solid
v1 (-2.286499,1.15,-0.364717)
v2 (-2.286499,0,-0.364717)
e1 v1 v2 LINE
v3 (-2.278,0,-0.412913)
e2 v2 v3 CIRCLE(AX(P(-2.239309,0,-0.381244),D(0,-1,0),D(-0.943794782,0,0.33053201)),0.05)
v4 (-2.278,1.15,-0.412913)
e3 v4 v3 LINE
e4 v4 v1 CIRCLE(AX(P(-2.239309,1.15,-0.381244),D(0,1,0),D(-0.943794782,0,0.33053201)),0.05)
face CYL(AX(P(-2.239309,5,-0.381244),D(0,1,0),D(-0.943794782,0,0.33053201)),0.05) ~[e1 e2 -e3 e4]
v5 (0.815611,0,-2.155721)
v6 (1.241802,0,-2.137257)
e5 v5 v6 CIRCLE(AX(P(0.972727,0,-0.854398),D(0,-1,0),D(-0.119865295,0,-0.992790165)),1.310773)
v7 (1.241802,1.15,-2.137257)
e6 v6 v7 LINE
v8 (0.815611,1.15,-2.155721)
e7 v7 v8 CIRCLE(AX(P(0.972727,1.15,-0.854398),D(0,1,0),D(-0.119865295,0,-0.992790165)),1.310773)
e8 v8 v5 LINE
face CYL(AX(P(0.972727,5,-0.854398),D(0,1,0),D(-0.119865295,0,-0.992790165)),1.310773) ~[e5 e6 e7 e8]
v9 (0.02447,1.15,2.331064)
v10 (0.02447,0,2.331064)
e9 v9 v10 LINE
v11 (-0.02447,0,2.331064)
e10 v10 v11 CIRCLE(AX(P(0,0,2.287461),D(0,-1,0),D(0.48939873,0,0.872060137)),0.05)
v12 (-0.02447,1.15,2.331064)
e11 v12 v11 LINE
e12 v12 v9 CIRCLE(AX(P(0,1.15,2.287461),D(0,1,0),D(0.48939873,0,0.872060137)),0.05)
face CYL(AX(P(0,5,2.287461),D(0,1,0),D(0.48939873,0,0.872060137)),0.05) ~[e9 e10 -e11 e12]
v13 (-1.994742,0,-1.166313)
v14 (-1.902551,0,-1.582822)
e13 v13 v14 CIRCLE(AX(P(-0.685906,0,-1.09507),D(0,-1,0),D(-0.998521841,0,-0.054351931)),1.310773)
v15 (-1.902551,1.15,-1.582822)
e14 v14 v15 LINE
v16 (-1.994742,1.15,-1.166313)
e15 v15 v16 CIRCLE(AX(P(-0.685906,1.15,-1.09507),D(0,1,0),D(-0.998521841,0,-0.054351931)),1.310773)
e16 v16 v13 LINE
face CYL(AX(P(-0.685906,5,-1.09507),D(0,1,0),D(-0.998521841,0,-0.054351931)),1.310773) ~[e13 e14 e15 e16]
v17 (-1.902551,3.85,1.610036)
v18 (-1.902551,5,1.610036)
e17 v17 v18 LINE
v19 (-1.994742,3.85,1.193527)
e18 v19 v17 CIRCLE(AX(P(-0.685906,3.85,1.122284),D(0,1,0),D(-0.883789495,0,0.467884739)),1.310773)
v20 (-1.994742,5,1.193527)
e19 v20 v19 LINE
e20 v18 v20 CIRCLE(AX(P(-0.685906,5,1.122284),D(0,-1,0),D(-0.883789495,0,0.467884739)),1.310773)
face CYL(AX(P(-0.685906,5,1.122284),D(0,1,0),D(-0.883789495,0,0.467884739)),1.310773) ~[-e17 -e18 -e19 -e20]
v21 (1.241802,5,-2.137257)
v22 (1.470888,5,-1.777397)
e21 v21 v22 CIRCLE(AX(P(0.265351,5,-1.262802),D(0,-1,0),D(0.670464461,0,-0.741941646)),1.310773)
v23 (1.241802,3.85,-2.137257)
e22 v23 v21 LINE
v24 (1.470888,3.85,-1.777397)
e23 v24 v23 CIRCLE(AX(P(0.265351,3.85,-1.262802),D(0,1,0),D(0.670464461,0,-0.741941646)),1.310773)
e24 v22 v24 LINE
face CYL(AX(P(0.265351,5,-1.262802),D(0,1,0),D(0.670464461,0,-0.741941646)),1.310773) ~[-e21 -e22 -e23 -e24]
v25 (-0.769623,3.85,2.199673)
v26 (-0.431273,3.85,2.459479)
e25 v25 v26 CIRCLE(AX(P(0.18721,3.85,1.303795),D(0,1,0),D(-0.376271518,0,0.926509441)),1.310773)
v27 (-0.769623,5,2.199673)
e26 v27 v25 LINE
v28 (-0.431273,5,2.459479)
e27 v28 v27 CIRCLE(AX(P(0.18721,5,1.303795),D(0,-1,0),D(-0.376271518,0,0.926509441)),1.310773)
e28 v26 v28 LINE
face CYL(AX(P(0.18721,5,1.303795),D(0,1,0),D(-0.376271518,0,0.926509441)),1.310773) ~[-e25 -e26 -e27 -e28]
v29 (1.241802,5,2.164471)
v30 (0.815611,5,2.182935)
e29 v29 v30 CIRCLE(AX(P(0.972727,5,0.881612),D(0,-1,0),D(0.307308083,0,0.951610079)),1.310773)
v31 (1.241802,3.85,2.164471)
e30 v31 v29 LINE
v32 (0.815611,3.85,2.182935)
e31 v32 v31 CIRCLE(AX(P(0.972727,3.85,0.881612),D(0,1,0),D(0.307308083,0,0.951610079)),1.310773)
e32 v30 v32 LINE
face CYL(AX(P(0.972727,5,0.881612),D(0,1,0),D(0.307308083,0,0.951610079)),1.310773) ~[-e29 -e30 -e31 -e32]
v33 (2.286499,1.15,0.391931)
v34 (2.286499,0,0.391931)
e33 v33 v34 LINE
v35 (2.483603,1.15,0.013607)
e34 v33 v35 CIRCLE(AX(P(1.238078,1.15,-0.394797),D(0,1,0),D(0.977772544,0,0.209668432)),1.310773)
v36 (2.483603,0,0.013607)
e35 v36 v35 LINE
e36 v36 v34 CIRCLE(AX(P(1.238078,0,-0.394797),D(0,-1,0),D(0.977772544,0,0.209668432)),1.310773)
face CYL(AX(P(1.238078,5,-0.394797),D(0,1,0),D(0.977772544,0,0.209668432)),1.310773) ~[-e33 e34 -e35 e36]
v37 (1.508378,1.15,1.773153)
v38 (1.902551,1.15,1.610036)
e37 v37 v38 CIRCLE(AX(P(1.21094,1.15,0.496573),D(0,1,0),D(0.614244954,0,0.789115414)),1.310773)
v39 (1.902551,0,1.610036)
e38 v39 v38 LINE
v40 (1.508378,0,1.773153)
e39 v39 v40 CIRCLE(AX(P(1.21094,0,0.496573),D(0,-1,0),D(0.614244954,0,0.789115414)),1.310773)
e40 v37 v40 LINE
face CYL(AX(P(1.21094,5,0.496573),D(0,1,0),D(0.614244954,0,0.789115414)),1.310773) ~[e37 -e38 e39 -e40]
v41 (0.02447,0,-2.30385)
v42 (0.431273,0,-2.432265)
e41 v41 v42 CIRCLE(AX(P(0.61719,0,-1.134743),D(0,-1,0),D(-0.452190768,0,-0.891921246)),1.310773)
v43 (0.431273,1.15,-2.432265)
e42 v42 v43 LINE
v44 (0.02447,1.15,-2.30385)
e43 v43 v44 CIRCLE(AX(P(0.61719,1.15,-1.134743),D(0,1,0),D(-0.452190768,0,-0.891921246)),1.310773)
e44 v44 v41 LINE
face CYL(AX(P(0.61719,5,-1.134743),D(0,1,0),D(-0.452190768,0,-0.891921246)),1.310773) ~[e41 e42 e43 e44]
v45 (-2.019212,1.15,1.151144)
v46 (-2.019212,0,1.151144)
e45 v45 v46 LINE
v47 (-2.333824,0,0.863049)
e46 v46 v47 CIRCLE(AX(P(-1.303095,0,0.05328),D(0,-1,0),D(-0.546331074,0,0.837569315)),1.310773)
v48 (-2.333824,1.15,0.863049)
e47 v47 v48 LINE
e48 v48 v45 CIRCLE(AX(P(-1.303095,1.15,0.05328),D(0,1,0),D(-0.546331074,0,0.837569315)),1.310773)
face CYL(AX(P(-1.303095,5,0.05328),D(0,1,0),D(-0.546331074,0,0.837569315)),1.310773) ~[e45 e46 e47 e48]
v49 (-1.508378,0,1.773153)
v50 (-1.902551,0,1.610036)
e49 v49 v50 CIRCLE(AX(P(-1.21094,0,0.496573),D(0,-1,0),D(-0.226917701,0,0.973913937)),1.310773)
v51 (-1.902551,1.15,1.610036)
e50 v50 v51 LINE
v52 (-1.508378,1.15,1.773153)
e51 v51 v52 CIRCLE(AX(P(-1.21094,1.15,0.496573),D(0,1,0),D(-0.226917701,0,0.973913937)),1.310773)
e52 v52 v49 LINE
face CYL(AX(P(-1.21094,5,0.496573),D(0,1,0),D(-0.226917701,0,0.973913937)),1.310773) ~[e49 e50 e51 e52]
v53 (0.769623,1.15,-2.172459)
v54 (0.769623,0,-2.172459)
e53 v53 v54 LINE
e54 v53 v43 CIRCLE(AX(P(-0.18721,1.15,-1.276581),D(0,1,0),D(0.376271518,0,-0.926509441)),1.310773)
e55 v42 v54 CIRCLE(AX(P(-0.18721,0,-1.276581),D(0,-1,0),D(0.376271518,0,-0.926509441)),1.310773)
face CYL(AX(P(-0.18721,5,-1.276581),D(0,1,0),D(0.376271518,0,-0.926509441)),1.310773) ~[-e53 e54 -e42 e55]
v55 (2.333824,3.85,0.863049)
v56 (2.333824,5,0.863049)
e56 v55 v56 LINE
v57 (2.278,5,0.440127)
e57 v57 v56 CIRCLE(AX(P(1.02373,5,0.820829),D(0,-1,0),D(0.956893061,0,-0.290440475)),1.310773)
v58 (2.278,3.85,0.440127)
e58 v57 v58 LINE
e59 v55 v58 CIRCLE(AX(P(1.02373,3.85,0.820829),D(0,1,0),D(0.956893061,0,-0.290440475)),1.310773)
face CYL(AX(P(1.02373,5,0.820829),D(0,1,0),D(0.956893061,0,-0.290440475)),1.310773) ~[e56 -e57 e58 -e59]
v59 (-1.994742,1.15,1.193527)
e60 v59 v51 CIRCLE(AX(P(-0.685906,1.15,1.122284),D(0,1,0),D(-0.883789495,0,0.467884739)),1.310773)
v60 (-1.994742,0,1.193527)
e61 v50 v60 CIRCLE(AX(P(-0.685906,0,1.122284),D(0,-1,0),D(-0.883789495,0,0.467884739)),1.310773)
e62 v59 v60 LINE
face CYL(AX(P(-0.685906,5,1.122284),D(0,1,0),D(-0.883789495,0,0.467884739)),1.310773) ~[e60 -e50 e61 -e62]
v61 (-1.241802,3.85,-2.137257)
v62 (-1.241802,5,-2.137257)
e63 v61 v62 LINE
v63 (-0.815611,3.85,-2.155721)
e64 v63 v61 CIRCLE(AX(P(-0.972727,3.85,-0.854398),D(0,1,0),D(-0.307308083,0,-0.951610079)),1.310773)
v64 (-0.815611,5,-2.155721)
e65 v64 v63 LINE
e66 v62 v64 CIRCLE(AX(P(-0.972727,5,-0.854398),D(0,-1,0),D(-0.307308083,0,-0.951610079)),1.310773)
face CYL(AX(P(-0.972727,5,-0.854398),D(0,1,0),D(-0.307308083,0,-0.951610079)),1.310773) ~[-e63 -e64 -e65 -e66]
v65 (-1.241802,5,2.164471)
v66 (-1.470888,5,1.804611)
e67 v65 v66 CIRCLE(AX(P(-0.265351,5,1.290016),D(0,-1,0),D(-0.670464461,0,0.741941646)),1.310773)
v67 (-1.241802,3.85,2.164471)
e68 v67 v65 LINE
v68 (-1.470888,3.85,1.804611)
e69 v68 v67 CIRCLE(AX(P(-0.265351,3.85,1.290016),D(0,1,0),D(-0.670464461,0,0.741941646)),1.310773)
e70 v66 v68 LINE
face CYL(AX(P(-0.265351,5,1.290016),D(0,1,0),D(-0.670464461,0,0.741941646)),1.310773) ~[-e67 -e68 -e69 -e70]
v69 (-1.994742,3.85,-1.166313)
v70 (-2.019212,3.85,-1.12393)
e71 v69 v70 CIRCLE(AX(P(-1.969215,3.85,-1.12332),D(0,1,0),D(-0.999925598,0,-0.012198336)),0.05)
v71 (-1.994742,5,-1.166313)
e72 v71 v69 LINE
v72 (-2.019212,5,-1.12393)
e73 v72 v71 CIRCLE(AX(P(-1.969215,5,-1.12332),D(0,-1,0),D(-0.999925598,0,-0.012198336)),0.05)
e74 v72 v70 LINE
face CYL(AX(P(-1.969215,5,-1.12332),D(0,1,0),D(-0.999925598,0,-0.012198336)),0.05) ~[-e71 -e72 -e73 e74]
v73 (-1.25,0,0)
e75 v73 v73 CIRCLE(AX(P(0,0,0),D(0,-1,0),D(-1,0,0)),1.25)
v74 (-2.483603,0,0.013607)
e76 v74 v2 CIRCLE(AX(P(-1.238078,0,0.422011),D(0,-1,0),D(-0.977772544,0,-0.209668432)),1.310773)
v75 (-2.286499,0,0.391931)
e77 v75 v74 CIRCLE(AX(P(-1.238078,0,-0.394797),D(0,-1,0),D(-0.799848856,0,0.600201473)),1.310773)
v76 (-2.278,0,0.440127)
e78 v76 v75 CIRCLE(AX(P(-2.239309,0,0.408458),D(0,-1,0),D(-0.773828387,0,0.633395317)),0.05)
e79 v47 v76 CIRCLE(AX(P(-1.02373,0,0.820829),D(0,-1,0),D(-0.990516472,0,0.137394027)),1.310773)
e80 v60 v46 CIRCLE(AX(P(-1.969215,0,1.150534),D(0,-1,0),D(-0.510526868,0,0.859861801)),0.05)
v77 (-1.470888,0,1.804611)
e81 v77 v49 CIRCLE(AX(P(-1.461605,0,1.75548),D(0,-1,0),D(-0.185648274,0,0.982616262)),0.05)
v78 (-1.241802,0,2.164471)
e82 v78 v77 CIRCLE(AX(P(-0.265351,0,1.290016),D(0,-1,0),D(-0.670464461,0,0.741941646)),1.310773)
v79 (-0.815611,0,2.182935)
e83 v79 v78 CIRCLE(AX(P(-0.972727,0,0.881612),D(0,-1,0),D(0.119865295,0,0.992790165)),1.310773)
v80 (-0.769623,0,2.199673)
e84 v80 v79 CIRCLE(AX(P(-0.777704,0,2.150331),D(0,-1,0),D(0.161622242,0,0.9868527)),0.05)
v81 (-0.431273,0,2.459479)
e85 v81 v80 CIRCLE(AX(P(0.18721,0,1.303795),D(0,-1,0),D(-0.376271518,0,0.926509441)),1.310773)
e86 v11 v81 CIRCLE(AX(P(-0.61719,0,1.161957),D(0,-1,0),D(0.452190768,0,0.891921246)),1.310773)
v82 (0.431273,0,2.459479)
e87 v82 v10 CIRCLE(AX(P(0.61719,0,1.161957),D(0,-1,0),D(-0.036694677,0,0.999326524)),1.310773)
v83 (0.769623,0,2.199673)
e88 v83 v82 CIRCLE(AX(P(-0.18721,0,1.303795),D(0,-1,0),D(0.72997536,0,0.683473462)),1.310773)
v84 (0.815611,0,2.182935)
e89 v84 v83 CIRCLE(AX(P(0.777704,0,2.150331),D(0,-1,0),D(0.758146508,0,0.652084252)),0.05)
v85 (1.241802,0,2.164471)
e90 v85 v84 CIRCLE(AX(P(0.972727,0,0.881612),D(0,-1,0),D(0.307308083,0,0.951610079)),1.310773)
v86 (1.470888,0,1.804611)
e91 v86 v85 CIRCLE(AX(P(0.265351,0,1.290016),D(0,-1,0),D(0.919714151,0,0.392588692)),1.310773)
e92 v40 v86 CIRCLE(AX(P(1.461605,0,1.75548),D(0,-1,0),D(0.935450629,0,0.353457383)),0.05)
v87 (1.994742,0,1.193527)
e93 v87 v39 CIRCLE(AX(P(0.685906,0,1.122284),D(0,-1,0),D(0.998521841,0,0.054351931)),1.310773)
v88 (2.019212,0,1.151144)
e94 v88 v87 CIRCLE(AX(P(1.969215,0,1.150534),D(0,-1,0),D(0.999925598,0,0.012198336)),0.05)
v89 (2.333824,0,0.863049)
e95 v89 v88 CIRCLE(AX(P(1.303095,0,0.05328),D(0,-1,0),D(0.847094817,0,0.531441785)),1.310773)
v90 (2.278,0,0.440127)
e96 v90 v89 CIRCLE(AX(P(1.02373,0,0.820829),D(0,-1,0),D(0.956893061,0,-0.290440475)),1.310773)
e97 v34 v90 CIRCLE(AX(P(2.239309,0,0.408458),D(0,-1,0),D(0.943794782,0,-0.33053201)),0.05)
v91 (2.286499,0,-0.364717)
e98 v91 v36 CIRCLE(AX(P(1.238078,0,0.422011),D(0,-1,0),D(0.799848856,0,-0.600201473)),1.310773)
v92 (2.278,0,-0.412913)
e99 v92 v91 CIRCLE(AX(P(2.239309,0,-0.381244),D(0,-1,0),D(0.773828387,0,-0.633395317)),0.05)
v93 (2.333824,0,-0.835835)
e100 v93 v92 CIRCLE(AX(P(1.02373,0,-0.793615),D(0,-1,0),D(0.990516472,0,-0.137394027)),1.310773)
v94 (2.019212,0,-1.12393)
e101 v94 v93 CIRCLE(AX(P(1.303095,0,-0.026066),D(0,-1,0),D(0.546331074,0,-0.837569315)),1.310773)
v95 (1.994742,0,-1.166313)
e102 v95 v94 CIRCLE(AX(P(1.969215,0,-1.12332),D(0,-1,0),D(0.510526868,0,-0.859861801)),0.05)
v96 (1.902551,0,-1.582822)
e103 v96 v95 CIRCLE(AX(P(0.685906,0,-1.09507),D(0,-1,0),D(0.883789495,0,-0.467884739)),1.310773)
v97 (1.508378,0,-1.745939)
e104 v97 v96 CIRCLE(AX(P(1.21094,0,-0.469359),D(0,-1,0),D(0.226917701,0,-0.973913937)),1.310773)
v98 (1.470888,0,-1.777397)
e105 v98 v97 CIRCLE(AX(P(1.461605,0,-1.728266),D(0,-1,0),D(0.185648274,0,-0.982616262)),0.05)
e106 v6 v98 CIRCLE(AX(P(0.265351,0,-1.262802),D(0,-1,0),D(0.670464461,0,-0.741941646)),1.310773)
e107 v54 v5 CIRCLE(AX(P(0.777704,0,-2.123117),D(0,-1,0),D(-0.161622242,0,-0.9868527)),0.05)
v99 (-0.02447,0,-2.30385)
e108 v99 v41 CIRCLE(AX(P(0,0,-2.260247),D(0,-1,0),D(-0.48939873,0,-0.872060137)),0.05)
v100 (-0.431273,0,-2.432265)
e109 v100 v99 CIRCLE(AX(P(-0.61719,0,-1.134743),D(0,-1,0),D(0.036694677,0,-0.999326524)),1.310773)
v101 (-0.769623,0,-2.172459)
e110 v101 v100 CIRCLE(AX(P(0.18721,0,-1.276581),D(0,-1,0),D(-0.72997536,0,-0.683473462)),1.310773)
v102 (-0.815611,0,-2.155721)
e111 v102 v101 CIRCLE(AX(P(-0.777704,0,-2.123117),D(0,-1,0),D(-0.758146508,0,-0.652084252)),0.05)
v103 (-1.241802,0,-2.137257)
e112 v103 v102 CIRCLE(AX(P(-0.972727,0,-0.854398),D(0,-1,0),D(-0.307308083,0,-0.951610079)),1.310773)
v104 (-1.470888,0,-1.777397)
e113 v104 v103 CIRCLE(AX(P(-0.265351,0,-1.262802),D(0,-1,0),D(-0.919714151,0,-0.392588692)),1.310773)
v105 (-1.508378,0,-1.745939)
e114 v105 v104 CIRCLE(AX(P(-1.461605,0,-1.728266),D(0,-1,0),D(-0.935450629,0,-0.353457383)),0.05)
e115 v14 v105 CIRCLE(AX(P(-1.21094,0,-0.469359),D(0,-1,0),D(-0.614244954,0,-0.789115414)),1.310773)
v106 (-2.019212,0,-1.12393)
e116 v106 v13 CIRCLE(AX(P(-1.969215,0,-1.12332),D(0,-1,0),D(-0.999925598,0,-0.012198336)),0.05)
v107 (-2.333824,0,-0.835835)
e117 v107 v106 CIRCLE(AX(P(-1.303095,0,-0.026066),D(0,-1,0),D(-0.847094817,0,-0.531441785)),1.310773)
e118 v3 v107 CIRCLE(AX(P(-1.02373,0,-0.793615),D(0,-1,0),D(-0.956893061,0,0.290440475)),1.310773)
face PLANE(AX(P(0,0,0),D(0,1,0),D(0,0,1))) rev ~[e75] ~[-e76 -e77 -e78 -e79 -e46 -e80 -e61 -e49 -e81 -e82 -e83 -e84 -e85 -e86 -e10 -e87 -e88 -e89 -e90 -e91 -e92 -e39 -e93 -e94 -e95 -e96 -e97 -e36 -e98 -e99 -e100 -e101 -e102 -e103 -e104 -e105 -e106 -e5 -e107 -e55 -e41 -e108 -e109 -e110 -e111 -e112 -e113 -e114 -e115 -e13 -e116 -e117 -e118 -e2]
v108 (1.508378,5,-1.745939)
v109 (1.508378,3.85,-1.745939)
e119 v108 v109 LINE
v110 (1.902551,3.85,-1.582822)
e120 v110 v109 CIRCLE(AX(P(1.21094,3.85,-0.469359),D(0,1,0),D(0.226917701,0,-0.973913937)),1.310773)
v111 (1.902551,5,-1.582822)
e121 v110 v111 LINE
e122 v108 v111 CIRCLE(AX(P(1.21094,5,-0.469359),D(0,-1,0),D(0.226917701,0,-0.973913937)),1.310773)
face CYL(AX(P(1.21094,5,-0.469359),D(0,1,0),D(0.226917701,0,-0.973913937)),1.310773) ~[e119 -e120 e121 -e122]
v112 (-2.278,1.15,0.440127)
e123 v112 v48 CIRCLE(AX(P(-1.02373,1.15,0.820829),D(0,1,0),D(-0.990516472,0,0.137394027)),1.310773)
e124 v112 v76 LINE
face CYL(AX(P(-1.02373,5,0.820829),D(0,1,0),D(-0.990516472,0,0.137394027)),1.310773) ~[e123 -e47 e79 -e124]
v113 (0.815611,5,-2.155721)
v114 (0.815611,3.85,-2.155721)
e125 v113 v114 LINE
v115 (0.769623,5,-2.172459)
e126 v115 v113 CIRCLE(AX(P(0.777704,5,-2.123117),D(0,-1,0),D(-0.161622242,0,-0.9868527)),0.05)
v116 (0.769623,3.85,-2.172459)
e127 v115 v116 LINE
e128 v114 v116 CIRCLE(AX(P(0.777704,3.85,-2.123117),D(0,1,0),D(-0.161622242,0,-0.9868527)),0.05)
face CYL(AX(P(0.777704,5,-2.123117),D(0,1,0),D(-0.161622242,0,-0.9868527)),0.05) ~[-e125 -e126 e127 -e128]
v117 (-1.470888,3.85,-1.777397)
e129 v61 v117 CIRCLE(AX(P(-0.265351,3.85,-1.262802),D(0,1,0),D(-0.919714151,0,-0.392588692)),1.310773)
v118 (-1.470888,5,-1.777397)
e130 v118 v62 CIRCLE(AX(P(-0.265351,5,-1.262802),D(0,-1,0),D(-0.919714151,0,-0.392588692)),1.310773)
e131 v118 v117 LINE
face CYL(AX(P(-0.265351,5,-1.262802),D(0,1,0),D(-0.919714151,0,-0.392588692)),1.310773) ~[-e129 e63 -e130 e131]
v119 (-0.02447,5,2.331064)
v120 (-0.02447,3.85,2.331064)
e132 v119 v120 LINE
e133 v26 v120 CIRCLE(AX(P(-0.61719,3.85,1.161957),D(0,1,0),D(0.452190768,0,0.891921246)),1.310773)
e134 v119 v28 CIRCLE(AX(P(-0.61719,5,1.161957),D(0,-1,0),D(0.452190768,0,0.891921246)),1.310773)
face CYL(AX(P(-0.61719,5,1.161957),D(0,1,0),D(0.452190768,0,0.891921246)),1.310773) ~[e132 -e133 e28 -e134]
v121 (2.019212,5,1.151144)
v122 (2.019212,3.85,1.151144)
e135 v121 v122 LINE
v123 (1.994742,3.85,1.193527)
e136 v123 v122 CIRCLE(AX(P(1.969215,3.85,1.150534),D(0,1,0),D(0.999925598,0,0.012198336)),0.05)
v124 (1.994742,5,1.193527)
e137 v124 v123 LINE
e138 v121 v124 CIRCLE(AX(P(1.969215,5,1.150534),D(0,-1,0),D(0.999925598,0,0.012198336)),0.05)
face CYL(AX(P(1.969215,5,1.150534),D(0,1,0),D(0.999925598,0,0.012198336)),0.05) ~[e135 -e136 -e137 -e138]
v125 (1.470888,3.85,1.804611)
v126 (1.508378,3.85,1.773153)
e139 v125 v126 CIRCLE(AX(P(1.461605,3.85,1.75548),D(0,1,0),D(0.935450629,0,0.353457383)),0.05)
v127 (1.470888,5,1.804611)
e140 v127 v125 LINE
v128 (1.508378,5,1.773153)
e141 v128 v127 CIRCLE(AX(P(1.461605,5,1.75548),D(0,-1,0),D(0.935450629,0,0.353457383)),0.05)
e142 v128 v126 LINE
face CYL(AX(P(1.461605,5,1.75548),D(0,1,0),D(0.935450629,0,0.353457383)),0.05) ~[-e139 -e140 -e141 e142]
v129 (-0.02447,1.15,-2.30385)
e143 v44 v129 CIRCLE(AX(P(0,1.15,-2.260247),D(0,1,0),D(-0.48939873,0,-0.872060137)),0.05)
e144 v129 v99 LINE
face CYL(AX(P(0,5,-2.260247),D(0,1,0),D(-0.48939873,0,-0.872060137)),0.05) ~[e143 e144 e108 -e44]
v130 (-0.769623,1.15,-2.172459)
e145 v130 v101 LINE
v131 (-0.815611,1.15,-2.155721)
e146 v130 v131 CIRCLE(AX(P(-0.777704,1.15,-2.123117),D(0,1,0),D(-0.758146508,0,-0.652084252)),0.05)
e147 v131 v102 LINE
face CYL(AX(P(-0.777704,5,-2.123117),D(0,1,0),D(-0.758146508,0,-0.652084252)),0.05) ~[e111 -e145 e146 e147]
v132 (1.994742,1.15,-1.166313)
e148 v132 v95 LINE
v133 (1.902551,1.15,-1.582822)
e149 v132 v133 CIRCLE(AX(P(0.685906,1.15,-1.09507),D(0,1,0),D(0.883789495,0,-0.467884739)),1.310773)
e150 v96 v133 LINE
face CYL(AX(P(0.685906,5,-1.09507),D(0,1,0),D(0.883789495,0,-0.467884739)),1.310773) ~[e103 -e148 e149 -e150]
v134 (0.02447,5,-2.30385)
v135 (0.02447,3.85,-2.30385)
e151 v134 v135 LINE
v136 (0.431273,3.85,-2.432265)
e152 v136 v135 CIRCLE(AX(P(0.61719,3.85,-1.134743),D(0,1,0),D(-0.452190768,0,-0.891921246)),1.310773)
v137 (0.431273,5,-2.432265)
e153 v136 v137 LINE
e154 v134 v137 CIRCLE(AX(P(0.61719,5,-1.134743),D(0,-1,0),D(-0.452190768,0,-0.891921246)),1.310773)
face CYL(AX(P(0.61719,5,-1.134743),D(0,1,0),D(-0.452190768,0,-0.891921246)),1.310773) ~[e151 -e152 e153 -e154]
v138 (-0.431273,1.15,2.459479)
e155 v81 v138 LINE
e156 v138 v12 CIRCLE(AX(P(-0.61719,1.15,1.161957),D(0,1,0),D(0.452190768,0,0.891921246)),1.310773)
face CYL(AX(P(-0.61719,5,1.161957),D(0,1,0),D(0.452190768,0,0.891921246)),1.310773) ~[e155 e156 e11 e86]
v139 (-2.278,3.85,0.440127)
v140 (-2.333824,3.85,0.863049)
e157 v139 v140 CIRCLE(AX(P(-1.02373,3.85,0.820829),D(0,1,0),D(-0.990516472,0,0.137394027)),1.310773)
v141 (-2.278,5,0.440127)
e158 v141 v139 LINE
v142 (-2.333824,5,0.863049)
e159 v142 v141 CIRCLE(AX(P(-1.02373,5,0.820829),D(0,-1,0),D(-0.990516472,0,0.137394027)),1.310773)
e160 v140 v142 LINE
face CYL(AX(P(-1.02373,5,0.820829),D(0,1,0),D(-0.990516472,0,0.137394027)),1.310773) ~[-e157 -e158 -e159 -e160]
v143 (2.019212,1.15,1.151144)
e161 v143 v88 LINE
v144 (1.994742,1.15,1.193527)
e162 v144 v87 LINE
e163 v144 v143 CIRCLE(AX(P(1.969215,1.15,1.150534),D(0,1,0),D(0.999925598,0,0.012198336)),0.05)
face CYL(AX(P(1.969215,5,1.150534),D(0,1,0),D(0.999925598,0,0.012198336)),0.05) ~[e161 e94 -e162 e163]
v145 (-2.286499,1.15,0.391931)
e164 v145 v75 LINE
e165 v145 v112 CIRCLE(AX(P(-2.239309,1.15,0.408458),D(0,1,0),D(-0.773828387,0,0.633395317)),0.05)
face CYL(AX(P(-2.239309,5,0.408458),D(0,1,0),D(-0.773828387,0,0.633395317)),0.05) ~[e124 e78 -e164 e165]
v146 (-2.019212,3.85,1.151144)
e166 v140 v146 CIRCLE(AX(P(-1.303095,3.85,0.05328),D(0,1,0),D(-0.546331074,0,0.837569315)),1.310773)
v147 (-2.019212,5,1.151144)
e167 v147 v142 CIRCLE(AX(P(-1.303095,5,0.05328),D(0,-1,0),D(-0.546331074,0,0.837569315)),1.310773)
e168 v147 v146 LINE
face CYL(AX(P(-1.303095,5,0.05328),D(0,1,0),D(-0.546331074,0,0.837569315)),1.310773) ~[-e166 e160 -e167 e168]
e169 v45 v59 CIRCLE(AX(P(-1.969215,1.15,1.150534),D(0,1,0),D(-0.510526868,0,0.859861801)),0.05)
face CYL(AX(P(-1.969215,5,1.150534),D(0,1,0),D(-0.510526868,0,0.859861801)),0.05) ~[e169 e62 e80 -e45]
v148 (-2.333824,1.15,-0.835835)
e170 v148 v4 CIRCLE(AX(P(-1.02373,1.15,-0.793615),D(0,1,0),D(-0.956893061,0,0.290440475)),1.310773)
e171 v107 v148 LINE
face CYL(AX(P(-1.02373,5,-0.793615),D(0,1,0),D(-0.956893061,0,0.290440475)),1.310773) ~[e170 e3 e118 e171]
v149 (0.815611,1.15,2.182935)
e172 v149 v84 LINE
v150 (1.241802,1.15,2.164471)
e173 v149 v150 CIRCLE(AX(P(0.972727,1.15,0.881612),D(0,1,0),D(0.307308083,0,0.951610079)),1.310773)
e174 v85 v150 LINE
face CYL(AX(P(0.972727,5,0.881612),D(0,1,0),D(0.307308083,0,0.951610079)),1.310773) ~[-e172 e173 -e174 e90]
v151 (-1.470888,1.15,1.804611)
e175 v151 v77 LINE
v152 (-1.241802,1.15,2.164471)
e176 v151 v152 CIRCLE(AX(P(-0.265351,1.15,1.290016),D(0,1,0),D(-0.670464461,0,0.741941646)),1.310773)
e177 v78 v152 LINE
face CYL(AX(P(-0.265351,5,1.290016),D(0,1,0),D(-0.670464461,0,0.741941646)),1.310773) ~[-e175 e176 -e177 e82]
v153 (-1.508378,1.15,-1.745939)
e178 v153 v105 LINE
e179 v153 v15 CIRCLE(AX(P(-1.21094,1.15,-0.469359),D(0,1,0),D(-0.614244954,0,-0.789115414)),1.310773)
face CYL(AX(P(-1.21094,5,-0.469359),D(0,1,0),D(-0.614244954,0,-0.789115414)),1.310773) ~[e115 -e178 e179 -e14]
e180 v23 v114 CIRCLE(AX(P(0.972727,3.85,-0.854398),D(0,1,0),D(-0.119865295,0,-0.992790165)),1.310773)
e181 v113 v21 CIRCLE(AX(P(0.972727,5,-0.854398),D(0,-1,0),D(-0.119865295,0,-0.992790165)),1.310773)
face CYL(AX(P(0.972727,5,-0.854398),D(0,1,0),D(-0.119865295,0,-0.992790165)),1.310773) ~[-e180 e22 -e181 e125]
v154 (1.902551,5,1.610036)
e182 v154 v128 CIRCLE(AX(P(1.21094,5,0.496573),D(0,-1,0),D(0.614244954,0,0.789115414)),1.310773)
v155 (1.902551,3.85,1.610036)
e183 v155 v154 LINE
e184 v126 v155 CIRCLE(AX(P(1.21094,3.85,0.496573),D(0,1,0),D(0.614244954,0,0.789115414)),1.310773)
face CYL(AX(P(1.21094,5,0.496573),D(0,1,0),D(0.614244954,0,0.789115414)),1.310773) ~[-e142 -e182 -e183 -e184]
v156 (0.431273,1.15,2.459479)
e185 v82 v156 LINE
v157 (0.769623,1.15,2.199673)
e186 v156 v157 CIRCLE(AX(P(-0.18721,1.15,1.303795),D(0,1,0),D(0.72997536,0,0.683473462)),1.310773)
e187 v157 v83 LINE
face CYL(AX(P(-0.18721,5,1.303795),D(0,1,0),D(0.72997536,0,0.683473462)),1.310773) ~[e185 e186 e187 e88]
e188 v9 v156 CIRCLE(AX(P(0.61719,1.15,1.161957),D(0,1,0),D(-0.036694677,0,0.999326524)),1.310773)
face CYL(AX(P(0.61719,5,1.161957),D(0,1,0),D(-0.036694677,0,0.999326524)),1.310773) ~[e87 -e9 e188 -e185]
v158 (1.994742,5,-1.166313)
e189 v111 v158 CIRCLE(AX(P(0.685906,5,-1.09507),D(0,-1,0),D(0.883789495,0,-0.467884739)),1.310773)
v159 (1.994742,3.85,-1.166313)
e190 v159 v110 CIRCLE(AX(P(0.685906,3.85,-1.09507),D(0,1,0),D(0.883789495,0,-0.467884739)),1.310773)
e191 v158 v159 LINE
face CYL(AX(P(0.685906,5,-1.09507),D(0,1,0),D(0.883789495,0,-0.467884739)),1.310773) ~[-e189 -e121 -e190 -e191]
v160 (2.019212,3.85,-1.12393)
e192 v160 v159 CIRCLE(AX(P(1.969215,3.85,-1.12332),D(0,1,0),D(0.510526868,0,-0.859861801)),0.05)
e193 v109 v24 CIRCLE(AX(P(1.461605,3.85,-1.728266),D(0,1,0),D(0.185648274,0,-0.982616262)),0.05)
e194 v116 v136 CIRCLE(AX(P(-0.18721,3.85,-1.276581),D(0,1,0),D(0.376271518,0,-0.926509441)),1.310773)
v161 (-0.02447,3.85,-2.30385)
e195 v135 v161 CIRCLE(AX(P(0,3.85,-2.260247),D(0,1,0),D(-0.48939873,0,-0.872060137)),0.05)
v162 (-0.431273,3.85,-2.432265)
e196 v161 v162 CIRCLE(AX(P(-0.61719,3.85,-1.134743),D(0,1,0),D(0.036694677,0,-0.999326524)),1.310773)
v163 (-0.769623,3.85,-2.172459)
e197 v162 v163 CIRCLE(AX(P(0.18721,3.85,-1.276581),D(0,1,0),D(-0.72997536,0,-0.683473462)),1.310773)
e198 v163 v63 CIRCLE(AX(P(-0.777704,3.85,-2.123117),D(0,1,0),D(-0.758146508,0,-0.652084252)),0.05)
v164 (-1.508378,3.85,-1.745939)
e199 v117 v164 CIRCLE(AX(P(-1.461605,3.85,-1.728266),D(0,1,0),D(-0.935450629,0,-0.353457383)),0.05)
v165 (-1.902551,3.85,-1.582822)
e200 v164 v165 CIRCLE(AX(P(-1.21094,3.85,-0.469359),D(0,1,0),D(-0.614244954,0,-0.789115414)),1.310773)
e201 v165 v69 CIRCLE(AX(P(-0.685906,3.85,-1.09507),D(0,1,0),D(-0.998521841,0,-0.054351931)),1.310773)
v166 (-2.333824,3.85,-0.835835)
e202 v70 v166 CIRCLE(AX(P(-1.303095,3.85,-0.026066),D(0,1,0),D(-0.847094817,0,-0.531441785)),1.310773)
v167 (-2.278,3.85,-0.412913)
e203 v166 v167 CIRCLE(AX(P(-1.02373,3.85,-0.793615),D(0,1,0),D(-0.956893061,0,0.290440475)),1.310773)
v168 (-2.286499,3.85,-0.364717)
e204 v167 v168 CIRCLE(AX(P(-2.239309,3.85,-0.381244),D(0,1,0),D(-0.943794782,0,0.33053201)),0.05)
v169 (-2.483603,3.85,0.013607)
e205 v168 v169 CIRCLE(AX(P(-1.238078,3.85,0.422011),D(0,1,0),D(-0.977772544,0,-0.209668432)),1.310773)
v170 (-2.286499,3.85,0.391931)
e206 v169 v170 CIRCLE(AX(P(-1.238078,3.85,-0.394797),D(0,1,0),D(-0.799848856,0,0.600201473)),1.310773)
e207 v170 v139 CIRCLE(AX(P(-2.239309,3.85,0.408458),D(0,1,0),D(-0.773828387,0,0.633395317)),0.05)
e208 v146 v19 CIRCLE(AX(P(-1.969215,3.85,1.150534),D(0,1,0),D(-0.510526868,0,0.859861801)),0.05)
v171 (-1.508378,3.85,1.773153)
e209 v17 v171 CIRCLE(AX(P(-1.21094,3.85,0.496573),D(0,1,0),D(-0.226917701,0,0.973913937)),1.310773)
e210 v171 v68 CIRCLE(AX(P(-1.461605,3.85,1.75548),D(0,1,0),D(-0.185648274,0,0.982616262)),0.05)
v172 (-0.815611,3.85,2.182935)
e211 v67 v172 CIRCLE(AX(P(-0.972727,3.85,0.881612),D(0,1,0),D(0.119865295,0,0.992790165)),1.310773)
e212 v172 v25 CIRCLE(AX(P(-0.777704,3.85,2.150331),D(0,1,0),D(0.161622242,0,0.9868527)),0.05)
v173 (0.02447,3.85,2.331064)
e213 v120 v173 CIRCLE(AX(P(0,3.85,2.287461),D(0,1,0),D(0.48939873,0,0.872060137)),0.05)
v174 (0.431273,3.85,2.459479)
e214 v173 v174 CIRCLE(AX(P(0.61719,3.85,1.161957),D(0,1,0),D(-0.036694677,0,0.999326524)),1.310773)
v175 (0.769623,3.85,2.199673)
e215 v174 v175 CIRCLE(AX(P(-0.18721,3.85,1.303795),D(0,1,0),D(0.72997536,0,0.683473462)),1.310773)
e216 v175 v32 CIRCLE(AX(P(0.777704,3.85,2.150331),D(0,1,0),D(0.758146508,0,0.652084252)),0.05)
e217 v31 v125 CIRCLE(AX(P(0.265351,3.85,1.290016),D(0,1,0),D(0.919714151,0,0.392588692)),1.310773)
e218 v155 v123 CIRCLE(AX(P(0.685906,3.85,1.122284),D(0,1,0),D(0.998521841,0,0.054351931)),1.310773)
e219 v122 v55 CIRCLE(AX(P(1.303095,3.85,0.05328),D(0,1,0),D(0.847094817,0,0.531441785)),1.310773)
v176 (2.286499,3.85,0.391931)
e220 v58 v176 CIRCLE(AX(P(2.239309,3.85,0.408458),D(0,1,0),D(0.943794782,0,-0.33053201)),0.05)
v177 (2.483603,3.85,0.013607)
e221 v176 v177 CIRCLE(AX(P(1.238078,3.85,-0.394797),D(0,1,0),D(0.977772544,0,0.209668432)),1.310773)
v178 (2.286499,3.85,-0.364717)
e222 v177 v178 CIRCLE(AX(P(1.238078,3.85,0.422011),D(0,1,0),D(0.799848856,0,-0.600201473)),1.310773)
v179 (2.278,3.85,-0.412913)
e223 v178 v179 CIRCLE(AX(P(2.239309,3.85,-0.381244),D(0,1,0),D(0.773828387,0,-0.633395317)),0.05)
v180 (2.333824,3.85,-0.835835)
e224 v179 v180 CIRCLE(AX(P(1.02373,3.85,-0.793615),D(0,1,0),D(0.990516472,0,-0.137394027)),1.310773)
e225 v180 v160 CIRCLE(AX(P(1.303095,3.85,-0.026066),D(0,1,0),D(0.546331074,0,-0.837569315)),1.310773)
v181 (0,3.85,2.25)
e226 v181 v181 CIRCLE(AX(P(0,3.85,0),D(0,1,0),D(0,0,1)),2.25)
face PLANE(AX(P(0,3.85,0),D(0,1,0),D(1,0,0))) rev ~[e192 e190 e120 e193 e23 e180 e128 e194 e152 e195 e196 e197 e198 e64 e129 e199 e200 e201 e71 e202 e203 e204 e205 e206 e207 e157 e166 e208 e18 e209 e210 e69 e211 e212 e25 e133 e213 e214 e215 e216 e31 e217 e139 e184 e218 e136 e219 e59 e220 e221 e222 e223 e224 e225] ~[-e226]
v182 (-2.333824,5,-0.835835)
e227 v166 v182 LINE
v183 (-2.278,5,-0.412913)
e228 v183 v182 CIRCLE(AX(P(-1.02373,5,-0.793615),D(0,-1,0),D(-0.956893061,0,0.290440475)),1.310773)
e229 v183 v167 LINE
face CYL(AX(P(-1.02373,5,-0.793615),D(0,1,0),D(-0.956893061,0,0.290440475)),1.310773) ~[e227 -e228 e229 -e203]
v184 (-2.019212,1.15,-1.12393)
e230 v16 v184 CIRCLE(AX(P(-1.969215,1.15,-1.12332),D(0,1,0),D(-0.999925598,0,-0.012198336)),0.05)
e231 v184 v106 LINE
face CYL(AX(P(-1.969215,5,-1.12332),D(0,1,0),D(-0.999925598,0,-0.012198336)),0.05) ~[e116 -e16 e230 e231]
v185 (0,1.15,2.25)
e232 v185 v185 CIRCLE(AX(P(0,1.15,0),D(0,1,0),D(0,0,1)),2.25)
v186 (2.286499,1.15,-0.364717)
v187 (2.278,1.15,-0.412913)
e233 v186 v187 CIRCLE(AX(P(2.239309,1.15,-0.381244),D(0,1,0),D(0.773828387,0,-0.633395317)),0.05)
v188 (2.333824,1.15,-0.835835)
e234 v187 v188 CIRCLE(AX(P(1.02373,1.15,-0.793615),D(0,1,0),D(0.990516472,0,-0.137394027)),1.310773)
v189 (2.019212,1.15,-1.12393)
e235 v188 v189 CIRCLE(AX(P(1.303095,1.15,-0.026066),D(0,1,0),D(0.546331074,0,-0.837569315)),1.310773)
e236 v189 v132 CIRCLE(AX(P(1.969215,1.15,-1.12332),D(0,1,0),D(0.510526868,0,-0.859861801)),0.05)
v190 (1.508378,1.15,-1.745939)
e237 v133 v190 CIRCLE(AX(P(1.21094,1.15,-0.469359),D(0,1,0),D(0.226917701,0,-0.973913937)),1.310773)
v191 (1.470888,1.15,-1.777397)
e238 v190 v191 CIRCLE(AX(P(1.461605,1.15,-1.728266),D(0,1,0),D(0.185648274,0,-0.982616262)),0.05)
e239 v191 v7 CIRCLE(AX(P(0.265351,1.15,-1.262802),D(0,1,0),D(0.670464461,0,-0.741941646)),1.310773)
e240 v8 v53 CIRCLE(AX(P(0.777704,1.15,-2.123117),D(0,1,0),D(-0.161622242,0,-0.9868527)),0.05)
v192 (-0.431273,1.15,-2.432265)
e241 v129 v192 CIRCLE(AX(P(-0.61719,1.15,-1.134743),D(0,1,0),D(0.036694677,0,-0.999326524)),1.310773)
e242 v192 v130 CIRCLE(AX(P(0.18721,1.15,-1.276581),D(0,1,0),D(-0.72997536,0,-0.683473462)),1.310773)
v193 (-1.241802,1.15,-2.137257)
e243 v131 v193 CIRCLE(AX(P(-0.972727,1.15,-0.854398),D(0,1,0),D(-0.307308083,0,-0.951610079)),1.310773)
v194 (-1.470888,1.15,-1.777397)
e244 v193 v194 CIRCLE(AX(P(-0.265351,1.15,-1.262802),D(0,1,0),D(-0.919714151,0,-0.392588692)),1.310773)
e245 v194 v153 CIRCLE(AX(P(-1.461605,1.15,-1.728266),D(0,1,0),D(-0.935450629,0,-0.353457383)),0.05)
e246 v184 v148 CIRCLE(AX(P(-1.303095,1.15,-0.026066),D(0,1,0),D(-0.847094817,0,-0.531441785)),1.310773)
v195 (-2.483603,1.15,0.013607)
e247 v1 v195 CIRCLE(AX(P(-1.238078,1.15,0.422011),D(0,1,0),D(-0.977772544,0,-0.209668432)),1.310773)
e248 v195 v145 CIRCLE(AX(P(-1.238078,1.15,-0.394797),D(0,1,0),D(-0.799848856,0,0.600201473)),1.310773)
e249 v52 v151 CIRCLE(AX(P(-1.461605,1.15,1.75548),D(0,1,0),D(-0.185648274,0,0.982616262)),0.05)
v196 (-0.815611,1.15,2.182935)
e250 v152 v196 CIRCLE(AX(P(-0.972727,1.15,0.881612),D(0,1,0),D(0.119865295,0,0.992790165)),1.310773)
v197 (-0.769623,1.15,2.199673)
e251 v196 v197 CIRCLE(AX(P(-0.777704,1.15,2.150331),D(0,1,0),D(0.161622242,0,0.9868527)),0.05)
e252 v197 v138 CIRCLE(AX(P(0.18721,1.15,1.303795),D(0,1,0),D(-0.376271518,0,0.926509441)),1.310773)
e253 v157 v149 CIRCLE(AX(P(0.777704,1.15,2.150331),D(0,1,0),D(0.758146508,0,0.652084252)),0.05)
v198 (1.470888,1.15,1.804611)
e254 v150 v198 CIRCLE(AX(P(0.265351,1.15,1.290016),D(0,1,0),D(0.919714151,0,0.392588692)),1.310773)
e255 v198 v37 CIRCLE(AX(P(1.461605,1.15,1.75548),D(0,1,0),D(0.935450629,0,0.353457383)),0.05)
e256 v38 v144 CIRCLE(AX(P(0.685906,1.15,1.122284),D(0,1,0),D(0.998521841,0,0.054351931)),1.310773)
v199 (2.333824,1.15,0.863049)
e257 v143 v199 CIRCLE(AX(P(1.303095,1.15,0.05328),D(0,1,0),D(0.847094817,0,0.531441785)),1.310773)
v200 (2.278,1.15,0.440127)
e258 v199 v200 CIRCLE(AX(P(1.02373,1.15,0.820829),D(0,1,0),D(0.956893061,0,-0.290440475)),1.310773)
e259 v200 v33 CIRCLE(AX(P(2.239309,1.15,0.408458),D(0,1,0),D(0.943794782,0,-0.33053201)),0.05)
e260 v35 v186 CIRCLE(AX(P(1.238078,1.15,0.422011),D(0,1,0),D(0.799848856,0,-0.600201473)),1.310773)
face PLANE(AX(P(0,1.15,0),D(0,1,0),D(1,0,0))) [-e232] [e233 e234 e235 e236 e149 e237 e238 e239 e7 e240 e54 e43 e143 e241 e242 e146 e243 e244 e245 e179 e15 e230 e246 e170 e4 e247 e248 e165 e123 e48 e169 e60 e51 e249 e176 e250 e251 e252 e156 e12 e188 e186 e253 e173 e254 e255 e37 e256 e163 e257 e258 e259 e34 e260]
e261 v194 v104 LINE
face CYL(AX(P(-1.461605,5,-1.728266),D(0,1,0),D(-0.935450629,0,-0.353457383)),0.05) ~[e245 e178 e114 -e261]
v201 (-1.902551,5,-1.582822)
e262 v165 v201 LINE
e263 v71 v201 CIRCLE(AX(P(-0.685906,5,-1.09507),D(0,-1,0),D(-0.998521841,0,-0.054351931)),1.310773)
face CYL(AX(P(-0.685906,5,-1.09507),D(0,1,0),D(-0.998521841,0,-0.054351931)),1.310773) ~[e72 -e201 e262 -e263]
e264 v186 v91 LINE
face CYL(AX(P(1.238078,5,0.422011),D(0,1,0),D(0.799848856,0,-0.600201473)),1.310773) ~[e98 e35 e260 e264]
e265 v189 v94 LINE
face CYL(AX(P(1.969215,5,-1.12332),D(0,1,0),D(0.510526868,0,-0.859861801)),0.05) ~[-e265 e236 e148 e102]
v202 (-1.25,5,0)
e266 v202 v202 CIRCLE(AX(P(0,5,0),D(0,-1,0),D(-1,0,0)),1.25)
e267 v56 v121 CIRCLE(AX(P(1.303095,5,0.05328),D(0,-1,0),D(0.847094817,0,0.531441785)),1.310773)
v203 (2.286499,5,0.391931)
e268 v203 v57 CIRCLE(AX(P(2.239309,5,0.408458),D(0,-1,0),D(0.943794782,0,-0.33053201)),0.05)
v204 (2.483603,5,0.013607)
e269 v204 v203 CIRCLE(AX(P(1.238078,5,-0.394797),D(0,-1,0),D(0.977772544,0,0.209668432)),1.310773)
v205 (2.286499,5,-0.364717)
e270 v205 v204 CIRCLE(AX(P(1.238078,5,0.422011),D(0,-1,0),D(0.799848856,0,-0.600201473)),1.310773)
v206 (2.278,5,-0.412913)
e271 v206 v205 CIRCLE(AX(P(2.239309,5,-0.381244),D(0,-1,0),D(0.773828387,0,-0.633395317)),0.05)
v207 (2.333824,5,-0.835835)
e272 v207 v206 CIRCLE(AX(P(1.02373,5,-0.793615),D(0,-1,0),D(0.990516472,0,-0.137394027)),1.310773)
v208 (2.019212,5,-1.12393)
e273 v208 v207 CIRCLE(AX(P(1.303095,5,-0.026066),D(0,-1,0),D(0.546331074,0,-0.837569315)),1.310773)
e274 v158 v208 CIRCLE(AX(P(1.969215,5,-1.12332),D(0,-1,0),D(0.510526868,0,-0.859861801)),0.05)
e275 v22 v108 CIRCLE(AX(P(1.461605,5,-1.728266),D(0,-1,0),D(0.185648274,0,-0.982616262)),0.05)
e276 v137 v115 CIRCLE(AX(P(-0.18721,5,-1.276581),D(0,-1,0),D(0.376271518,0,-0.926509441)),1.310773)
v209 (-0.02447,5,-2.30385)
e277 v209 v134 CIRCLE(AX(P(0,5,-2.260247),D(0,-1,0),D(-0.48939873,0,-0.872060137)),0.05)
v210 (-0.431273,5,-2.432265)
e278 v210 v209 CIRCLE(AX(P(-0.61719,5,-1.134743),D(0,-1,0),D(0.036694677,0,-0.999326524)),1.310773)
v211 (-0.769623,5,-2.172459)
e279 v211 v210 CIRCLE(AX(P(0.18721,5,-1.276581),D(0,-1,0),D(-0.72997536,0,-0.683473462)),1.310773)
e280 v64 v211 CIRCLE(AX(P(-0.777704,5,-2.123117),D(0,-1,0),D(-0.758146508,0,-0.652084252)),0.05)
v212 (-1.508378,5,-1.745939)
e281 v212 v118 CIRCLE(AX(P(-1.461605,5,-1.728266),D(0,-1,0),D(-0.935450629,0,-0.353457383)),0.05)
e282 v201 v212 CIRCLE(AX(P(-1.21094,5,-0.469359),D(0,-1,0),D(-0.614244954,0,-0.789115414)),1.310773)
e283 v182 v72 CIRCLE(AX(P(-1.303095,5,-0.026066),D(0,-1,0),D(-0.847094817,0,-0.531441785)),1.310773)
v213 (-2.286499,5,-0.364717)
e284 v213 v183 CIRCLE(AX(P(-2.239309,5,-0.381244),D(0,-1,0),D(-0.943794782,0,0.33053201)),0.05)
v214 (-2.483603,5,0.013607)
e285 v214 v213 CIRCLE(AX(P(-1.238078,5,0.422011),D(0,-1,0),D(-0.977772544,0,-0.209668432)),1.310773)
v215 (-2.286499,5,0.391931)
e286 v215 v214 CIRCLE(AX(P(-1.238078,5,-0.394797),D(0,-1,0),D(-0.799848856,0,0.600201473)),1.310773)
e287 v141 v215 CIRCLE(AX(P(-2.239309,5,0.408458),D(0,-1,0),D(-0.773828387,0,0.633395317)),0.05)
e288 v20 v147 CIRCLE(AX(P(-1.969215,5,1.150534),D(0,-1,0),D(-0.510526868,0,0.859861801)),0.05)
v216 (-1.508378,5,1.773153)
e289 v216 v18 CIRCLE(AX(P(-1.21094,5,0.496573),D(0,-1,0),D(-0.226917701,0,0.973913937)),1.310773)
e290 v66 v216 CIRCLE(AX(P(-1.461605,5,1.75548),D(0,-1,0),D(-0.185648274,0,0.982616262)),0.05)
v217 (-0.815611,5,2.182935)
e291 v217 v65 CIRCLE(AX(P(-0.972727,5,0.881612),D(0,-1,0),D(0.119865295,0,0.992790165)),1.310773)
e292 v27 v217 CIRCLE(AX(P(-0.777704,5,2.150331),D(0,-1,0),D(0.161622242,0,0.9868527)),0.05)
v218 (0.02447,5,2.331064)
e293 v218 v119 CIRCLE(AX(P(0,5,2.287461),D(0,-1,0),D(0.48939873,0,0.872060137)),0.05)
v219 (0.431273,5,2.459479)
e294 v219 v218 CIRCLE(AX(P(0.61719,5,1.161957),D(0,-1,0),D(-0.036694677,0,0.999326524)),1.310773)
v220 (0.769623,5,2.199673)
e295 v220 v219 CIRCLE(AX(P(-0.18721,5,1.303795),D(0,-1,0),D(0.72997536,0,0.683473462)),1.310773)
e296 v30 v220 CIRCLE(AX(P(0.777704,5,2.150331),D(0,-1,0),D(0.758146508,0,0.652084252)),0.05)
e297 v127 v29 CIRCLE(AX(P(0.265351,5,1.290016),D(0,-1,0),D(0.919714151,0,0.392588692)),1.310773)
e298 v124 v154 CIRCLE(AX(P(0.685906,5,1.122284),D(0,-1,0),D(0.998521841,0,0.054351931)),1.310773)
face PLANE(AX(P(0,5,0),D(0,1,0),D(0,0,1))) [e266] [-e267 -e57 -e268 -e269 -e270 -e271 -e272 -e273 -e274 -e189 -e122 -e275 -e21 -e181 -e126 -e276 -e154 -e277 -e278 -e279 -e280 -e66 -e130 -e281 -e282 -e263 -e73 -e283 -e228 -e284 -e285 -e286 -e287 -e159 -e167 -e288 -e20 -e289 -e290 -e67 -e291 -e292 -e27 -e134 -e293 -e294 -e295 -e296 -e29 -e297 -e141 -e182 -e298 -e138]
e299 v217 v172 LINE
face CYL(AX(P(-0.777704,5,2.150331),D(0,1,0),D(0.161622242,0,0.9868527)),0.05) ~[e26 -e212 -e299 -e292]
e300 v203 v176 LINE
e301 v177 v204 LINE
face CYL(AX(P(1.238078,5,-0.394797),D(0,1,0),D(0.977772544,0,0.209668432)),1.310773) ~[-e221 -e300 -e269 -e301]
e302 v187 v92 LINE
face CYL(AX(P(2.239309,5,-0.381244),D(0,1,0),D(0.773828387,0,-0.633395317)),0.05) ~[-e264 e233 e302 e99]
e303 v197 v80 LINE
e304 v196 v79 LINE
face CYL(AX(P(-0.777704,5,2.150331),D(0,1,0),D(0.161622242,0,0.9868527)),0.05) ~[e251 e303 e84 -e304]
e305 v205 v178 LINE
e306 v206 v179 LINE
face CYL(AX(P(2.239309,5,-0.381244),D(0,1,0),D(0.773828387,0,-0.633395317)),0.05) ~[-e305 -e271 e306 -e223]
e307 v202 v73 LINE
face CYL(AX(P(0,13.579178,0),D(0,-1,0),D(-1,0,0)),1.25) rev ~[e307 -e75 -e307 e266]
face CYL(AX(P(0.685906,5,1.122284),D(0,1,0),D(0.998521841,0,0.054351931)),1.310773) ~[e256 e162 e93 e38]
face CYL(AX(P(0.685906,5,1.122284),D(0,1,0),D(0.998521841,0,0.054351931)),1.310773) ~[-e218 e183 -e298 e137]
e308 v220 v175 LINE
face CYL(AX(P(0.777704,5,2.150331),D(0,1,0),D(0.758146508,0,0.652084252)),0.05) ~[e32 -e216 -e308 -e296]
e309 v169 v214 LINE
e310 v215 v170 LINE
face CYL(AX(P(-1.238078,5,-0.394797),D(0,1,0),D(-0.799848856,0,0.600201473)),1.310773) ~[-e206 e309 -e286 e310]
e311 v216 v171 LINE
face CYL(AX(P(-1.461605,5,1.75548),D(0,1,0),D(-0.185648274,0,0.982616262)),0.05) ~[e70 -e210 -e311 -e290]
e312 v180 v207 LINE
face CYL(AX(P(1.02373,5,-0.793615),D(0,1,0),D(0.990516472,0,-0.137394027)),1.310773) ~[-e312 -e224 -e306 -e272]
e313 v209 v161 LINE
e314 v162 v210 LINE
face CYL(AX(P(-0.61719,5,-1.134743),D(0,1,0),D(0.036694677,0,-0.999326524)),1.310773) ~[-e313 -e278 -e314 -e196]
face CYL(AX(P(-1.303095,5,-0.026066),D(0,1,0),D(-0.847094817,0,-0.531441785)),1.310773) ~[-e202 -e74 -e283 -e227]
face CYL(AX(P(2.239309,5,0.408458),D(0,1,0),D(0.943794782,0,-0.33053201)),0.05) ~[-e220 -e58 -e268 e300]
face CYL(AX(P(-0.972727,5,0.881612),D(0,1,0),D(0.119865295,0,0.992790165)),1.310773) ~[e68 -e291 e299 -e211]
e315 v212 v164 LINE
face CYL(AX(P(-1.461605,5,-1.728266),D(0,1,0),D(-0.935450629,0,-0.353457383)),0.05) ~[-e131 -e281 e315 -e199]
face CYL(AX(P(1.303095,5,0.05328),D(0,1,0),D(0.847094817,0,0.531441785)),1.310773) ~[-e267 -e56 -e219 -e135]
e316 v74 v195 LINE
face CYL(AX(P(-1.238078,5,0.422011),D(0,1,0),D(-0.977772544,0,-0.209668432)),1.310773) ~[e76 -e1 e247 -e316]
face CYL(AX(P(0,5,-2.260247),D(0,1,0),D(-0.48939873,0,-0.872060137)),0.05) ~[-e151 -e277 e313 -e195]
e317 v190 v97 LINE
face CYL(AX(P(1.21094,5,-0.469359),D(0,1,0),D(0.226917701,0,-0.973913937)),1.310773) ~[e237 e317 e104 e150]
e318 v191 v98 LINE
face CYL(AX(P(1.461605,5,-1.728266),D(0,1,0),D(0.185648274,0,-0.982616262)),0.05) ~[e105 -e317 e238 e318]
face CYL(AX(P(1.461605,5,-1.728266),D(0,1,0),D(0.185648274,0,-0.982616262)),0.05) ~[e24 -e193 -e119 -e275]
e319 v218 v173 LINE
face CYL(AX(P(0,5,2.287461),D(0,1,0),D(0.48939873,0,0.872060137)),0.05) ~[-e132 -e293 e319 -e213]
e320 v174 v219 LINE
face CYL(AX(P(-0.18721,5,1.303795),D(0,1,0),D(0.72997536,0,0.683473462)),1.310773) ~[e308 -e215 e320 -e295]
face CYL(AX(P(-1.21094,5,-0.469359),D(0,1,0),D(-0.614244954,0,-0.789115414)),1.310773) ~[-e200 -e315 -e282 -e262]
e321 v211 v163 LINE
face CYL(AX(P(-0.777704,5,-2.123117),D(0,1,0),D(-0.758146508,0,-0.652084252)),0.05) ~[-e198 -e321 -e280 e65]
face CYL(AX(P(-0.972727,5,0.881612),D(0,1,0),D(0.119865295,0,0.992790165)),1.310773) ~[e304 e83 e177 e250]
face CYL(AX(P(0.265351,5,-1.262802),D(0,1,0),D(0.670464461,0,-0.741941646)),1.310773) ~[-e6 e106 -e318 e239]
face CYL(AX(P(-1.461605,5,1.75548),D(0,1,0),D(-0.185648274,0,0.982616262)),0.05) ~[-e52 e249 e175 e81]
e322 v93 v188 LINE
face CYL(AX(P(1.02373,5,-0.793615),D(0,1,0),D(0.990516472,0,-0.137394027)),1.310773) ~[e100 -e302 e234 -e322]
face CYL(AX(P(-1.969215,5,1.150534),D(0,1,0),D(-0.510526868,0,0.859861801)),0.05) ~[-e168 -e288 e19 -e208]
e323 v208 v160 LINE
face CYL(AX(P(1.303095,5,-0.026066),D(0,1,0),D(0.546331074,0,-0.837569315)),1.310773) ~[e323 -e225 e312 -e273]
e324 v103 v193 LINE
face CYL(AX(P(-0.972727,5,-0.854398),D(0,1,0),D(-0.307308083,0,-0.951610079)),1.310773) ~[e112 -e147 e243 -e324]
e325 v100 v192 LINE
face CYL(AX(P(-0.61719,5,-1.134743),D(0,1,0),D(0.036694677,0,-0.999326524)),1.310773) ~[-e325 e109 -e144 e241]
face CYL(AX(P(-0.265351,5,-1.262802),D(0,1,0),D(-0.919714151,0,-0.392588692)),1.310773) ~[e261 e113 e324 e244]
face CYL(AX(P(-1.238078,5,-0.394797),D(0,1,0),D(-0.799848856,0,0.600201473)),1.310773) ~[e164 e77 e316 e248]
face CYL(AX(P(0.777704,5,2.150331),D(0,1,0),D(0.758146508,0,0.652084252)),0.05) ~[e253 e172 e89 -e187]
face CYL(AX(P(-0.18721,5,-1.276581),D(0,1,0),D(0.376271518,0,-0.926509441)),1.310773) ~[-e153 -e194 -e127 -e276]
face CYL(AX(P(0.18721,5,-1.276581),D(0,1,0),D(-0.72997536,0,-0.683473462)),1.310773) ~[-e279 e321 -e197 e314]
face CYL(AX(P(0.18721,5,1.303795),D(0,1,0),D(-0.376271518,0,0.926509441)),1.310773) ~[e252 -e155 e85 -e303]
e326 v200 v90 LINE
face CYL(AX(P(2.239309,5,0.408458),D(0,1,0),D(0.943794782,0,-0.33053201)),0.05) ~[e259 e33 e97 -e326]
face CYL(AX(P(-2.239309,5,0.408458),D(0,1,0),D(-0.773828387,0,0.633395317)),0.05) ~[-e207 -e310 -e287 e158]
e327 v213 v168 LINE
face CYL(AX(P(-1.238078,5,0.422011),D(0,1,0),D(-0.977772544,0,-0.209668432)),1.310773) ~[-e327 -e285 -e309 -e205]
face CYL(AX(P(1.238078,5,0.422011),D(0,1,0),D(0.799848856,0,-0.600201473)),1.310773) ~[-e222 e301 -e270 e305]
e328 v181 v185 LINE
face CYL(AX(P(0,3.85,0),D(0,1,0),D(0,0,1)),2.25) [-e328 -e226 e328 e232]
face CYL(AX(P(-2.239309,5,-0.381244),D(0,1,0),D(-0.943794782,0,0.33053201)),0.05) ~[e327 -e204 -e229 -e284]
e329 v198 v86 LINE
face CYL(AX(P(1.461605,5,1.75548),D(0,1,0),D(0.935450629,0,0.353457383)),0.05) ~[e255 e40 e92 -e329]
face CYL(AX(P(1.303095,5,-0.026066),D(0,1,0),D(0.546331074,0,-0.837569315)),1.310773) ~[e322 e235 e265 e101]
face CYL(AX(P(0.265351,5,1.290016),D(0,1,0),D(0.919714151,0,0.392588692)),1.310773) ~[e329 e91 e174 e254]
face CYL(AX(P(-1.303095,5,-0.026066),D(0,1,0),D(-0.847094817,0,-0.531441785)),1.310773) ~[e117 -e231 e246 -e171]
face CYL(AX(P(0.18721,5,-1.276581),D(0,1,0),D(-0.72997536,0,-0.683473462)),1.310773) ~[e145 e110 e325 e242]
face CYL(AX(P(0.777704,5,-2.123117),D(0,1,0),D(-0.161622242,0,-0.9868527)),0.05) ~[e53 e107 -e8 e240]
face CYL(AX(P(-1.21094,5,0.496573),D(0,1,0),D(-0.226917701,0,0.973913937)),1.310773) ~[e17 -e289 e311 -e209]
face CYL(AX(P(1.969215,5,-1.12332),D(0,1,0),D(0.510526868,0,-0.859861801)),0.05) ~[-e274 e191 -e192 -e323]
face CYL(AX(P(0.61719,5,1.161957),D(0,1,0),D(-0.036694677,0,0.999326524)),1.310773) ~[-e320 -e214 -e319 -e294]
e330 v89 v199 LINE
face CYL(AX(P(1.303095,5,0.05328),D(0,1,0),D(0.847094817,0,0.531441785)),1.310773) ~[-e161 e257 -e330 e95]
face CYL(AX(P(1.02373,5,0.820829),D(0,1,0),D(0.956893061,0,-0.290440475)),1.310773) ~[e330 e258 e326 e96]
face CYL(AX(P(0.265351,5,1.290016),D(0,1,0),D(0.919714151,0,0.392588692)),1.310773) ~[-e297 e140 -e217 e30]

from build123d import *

# Parameters (mm, degrees)
SKETCH1_R           = 2.51
BOSS_EXTRUDE1_DEPTH = 5
CUT_EXTRUDE2_DEPTH  = 5
CIRPATTERN1_COUNT   = 18
M3_TAPPED_HOLE1_D   = 2.5
SKETCH8_R           = 3.25
SKETCH8_R_2         = 2.25
CUT_EXTRUDE3_DEPTH  = 2.7


with BuildPart() as part:
    # Sketch1 → Boss-Extrude1 (new body)
    with BuildSketch(Plane(origin=(0, 0, 0), x_dir=(1, 0, 0), z_dir=(0, 1, 0))):
        with Locations(Location((0, 0, 0), (0, 0, 270))):
            Circle(SKETCH1_R)
    extrude(amount=BOSS_EXTRUDE1_DEPTH)

    # Sketch2 → Cut-Extrude2 (cut)
    with BuildSketch(Plane(origin=(0, 5, 0), x_dir=(1, 0, 0), z_dir=(0, 1, 0))):
        with BuildLine():
            ThreePointArc((0.569091169, 2.444633969), (0, 2.615621061), (-0.569091169, 2.444633969))
            ThreePointArc((-0.569091169, 2.444633969), (-0.289139314, 2.403802024), (-0.024469936, 2.303849986))
            ThreePointArc((-0.024469936, 2.303849986), (0, 2.310246979), (0.024469936, 2.303849986))
            ThreePointArc((0.024469936, 2.303849986), (0.289139314, 2.403802024), (0.569091169, 2.444633969))
        make_face()
    cut_extrude2 = extrude(amount=-CUT_EXTRUDE2_DEPTH, mode=Mode.SUBTRACT)

    # CirPattern1: Cut-Extrude2 ×18 about axis
    cirpattern1_axis = Axis((0, 0, 0.013606971), (0, 1, 0))
    for i in range(1, CIRPATTERN1_COUNT):
        add(cut_extrude2.rotate(cirpattern1_axis, i * 360 / CIRPATTERN1_COUNT), mode=Mode.SUBTRACT)

    # M3 Tapped Hole1 (through all)
    with Locations(Plane(origin=(0, 5, 0), x_dir=(1, 0, 0), z_dir=(0, 1, 0))):
        with Locations((0, 0)):
            Hole(M3_TAPPED_HOLE1_D / 2)

    # Sketch8 → Cut-Extrude3 (cut)
    with BuildSketch(Plane(origin=(0, 3.85, 0), x_dir=(1, 0, 0), z_dir=(0, 1, 0))):
        Circle(SKETCH8_R)
        with Locations(Location((0, 0, 0), (0, 0, 270))):
            Circle(SKETCH8_R_2, mode=Mode.SUBTRACT)
    extrude(amount=-CUT_EXTRUDE3_DEPTH, mode=Mode.SUBTRACT)


solid = part.part
